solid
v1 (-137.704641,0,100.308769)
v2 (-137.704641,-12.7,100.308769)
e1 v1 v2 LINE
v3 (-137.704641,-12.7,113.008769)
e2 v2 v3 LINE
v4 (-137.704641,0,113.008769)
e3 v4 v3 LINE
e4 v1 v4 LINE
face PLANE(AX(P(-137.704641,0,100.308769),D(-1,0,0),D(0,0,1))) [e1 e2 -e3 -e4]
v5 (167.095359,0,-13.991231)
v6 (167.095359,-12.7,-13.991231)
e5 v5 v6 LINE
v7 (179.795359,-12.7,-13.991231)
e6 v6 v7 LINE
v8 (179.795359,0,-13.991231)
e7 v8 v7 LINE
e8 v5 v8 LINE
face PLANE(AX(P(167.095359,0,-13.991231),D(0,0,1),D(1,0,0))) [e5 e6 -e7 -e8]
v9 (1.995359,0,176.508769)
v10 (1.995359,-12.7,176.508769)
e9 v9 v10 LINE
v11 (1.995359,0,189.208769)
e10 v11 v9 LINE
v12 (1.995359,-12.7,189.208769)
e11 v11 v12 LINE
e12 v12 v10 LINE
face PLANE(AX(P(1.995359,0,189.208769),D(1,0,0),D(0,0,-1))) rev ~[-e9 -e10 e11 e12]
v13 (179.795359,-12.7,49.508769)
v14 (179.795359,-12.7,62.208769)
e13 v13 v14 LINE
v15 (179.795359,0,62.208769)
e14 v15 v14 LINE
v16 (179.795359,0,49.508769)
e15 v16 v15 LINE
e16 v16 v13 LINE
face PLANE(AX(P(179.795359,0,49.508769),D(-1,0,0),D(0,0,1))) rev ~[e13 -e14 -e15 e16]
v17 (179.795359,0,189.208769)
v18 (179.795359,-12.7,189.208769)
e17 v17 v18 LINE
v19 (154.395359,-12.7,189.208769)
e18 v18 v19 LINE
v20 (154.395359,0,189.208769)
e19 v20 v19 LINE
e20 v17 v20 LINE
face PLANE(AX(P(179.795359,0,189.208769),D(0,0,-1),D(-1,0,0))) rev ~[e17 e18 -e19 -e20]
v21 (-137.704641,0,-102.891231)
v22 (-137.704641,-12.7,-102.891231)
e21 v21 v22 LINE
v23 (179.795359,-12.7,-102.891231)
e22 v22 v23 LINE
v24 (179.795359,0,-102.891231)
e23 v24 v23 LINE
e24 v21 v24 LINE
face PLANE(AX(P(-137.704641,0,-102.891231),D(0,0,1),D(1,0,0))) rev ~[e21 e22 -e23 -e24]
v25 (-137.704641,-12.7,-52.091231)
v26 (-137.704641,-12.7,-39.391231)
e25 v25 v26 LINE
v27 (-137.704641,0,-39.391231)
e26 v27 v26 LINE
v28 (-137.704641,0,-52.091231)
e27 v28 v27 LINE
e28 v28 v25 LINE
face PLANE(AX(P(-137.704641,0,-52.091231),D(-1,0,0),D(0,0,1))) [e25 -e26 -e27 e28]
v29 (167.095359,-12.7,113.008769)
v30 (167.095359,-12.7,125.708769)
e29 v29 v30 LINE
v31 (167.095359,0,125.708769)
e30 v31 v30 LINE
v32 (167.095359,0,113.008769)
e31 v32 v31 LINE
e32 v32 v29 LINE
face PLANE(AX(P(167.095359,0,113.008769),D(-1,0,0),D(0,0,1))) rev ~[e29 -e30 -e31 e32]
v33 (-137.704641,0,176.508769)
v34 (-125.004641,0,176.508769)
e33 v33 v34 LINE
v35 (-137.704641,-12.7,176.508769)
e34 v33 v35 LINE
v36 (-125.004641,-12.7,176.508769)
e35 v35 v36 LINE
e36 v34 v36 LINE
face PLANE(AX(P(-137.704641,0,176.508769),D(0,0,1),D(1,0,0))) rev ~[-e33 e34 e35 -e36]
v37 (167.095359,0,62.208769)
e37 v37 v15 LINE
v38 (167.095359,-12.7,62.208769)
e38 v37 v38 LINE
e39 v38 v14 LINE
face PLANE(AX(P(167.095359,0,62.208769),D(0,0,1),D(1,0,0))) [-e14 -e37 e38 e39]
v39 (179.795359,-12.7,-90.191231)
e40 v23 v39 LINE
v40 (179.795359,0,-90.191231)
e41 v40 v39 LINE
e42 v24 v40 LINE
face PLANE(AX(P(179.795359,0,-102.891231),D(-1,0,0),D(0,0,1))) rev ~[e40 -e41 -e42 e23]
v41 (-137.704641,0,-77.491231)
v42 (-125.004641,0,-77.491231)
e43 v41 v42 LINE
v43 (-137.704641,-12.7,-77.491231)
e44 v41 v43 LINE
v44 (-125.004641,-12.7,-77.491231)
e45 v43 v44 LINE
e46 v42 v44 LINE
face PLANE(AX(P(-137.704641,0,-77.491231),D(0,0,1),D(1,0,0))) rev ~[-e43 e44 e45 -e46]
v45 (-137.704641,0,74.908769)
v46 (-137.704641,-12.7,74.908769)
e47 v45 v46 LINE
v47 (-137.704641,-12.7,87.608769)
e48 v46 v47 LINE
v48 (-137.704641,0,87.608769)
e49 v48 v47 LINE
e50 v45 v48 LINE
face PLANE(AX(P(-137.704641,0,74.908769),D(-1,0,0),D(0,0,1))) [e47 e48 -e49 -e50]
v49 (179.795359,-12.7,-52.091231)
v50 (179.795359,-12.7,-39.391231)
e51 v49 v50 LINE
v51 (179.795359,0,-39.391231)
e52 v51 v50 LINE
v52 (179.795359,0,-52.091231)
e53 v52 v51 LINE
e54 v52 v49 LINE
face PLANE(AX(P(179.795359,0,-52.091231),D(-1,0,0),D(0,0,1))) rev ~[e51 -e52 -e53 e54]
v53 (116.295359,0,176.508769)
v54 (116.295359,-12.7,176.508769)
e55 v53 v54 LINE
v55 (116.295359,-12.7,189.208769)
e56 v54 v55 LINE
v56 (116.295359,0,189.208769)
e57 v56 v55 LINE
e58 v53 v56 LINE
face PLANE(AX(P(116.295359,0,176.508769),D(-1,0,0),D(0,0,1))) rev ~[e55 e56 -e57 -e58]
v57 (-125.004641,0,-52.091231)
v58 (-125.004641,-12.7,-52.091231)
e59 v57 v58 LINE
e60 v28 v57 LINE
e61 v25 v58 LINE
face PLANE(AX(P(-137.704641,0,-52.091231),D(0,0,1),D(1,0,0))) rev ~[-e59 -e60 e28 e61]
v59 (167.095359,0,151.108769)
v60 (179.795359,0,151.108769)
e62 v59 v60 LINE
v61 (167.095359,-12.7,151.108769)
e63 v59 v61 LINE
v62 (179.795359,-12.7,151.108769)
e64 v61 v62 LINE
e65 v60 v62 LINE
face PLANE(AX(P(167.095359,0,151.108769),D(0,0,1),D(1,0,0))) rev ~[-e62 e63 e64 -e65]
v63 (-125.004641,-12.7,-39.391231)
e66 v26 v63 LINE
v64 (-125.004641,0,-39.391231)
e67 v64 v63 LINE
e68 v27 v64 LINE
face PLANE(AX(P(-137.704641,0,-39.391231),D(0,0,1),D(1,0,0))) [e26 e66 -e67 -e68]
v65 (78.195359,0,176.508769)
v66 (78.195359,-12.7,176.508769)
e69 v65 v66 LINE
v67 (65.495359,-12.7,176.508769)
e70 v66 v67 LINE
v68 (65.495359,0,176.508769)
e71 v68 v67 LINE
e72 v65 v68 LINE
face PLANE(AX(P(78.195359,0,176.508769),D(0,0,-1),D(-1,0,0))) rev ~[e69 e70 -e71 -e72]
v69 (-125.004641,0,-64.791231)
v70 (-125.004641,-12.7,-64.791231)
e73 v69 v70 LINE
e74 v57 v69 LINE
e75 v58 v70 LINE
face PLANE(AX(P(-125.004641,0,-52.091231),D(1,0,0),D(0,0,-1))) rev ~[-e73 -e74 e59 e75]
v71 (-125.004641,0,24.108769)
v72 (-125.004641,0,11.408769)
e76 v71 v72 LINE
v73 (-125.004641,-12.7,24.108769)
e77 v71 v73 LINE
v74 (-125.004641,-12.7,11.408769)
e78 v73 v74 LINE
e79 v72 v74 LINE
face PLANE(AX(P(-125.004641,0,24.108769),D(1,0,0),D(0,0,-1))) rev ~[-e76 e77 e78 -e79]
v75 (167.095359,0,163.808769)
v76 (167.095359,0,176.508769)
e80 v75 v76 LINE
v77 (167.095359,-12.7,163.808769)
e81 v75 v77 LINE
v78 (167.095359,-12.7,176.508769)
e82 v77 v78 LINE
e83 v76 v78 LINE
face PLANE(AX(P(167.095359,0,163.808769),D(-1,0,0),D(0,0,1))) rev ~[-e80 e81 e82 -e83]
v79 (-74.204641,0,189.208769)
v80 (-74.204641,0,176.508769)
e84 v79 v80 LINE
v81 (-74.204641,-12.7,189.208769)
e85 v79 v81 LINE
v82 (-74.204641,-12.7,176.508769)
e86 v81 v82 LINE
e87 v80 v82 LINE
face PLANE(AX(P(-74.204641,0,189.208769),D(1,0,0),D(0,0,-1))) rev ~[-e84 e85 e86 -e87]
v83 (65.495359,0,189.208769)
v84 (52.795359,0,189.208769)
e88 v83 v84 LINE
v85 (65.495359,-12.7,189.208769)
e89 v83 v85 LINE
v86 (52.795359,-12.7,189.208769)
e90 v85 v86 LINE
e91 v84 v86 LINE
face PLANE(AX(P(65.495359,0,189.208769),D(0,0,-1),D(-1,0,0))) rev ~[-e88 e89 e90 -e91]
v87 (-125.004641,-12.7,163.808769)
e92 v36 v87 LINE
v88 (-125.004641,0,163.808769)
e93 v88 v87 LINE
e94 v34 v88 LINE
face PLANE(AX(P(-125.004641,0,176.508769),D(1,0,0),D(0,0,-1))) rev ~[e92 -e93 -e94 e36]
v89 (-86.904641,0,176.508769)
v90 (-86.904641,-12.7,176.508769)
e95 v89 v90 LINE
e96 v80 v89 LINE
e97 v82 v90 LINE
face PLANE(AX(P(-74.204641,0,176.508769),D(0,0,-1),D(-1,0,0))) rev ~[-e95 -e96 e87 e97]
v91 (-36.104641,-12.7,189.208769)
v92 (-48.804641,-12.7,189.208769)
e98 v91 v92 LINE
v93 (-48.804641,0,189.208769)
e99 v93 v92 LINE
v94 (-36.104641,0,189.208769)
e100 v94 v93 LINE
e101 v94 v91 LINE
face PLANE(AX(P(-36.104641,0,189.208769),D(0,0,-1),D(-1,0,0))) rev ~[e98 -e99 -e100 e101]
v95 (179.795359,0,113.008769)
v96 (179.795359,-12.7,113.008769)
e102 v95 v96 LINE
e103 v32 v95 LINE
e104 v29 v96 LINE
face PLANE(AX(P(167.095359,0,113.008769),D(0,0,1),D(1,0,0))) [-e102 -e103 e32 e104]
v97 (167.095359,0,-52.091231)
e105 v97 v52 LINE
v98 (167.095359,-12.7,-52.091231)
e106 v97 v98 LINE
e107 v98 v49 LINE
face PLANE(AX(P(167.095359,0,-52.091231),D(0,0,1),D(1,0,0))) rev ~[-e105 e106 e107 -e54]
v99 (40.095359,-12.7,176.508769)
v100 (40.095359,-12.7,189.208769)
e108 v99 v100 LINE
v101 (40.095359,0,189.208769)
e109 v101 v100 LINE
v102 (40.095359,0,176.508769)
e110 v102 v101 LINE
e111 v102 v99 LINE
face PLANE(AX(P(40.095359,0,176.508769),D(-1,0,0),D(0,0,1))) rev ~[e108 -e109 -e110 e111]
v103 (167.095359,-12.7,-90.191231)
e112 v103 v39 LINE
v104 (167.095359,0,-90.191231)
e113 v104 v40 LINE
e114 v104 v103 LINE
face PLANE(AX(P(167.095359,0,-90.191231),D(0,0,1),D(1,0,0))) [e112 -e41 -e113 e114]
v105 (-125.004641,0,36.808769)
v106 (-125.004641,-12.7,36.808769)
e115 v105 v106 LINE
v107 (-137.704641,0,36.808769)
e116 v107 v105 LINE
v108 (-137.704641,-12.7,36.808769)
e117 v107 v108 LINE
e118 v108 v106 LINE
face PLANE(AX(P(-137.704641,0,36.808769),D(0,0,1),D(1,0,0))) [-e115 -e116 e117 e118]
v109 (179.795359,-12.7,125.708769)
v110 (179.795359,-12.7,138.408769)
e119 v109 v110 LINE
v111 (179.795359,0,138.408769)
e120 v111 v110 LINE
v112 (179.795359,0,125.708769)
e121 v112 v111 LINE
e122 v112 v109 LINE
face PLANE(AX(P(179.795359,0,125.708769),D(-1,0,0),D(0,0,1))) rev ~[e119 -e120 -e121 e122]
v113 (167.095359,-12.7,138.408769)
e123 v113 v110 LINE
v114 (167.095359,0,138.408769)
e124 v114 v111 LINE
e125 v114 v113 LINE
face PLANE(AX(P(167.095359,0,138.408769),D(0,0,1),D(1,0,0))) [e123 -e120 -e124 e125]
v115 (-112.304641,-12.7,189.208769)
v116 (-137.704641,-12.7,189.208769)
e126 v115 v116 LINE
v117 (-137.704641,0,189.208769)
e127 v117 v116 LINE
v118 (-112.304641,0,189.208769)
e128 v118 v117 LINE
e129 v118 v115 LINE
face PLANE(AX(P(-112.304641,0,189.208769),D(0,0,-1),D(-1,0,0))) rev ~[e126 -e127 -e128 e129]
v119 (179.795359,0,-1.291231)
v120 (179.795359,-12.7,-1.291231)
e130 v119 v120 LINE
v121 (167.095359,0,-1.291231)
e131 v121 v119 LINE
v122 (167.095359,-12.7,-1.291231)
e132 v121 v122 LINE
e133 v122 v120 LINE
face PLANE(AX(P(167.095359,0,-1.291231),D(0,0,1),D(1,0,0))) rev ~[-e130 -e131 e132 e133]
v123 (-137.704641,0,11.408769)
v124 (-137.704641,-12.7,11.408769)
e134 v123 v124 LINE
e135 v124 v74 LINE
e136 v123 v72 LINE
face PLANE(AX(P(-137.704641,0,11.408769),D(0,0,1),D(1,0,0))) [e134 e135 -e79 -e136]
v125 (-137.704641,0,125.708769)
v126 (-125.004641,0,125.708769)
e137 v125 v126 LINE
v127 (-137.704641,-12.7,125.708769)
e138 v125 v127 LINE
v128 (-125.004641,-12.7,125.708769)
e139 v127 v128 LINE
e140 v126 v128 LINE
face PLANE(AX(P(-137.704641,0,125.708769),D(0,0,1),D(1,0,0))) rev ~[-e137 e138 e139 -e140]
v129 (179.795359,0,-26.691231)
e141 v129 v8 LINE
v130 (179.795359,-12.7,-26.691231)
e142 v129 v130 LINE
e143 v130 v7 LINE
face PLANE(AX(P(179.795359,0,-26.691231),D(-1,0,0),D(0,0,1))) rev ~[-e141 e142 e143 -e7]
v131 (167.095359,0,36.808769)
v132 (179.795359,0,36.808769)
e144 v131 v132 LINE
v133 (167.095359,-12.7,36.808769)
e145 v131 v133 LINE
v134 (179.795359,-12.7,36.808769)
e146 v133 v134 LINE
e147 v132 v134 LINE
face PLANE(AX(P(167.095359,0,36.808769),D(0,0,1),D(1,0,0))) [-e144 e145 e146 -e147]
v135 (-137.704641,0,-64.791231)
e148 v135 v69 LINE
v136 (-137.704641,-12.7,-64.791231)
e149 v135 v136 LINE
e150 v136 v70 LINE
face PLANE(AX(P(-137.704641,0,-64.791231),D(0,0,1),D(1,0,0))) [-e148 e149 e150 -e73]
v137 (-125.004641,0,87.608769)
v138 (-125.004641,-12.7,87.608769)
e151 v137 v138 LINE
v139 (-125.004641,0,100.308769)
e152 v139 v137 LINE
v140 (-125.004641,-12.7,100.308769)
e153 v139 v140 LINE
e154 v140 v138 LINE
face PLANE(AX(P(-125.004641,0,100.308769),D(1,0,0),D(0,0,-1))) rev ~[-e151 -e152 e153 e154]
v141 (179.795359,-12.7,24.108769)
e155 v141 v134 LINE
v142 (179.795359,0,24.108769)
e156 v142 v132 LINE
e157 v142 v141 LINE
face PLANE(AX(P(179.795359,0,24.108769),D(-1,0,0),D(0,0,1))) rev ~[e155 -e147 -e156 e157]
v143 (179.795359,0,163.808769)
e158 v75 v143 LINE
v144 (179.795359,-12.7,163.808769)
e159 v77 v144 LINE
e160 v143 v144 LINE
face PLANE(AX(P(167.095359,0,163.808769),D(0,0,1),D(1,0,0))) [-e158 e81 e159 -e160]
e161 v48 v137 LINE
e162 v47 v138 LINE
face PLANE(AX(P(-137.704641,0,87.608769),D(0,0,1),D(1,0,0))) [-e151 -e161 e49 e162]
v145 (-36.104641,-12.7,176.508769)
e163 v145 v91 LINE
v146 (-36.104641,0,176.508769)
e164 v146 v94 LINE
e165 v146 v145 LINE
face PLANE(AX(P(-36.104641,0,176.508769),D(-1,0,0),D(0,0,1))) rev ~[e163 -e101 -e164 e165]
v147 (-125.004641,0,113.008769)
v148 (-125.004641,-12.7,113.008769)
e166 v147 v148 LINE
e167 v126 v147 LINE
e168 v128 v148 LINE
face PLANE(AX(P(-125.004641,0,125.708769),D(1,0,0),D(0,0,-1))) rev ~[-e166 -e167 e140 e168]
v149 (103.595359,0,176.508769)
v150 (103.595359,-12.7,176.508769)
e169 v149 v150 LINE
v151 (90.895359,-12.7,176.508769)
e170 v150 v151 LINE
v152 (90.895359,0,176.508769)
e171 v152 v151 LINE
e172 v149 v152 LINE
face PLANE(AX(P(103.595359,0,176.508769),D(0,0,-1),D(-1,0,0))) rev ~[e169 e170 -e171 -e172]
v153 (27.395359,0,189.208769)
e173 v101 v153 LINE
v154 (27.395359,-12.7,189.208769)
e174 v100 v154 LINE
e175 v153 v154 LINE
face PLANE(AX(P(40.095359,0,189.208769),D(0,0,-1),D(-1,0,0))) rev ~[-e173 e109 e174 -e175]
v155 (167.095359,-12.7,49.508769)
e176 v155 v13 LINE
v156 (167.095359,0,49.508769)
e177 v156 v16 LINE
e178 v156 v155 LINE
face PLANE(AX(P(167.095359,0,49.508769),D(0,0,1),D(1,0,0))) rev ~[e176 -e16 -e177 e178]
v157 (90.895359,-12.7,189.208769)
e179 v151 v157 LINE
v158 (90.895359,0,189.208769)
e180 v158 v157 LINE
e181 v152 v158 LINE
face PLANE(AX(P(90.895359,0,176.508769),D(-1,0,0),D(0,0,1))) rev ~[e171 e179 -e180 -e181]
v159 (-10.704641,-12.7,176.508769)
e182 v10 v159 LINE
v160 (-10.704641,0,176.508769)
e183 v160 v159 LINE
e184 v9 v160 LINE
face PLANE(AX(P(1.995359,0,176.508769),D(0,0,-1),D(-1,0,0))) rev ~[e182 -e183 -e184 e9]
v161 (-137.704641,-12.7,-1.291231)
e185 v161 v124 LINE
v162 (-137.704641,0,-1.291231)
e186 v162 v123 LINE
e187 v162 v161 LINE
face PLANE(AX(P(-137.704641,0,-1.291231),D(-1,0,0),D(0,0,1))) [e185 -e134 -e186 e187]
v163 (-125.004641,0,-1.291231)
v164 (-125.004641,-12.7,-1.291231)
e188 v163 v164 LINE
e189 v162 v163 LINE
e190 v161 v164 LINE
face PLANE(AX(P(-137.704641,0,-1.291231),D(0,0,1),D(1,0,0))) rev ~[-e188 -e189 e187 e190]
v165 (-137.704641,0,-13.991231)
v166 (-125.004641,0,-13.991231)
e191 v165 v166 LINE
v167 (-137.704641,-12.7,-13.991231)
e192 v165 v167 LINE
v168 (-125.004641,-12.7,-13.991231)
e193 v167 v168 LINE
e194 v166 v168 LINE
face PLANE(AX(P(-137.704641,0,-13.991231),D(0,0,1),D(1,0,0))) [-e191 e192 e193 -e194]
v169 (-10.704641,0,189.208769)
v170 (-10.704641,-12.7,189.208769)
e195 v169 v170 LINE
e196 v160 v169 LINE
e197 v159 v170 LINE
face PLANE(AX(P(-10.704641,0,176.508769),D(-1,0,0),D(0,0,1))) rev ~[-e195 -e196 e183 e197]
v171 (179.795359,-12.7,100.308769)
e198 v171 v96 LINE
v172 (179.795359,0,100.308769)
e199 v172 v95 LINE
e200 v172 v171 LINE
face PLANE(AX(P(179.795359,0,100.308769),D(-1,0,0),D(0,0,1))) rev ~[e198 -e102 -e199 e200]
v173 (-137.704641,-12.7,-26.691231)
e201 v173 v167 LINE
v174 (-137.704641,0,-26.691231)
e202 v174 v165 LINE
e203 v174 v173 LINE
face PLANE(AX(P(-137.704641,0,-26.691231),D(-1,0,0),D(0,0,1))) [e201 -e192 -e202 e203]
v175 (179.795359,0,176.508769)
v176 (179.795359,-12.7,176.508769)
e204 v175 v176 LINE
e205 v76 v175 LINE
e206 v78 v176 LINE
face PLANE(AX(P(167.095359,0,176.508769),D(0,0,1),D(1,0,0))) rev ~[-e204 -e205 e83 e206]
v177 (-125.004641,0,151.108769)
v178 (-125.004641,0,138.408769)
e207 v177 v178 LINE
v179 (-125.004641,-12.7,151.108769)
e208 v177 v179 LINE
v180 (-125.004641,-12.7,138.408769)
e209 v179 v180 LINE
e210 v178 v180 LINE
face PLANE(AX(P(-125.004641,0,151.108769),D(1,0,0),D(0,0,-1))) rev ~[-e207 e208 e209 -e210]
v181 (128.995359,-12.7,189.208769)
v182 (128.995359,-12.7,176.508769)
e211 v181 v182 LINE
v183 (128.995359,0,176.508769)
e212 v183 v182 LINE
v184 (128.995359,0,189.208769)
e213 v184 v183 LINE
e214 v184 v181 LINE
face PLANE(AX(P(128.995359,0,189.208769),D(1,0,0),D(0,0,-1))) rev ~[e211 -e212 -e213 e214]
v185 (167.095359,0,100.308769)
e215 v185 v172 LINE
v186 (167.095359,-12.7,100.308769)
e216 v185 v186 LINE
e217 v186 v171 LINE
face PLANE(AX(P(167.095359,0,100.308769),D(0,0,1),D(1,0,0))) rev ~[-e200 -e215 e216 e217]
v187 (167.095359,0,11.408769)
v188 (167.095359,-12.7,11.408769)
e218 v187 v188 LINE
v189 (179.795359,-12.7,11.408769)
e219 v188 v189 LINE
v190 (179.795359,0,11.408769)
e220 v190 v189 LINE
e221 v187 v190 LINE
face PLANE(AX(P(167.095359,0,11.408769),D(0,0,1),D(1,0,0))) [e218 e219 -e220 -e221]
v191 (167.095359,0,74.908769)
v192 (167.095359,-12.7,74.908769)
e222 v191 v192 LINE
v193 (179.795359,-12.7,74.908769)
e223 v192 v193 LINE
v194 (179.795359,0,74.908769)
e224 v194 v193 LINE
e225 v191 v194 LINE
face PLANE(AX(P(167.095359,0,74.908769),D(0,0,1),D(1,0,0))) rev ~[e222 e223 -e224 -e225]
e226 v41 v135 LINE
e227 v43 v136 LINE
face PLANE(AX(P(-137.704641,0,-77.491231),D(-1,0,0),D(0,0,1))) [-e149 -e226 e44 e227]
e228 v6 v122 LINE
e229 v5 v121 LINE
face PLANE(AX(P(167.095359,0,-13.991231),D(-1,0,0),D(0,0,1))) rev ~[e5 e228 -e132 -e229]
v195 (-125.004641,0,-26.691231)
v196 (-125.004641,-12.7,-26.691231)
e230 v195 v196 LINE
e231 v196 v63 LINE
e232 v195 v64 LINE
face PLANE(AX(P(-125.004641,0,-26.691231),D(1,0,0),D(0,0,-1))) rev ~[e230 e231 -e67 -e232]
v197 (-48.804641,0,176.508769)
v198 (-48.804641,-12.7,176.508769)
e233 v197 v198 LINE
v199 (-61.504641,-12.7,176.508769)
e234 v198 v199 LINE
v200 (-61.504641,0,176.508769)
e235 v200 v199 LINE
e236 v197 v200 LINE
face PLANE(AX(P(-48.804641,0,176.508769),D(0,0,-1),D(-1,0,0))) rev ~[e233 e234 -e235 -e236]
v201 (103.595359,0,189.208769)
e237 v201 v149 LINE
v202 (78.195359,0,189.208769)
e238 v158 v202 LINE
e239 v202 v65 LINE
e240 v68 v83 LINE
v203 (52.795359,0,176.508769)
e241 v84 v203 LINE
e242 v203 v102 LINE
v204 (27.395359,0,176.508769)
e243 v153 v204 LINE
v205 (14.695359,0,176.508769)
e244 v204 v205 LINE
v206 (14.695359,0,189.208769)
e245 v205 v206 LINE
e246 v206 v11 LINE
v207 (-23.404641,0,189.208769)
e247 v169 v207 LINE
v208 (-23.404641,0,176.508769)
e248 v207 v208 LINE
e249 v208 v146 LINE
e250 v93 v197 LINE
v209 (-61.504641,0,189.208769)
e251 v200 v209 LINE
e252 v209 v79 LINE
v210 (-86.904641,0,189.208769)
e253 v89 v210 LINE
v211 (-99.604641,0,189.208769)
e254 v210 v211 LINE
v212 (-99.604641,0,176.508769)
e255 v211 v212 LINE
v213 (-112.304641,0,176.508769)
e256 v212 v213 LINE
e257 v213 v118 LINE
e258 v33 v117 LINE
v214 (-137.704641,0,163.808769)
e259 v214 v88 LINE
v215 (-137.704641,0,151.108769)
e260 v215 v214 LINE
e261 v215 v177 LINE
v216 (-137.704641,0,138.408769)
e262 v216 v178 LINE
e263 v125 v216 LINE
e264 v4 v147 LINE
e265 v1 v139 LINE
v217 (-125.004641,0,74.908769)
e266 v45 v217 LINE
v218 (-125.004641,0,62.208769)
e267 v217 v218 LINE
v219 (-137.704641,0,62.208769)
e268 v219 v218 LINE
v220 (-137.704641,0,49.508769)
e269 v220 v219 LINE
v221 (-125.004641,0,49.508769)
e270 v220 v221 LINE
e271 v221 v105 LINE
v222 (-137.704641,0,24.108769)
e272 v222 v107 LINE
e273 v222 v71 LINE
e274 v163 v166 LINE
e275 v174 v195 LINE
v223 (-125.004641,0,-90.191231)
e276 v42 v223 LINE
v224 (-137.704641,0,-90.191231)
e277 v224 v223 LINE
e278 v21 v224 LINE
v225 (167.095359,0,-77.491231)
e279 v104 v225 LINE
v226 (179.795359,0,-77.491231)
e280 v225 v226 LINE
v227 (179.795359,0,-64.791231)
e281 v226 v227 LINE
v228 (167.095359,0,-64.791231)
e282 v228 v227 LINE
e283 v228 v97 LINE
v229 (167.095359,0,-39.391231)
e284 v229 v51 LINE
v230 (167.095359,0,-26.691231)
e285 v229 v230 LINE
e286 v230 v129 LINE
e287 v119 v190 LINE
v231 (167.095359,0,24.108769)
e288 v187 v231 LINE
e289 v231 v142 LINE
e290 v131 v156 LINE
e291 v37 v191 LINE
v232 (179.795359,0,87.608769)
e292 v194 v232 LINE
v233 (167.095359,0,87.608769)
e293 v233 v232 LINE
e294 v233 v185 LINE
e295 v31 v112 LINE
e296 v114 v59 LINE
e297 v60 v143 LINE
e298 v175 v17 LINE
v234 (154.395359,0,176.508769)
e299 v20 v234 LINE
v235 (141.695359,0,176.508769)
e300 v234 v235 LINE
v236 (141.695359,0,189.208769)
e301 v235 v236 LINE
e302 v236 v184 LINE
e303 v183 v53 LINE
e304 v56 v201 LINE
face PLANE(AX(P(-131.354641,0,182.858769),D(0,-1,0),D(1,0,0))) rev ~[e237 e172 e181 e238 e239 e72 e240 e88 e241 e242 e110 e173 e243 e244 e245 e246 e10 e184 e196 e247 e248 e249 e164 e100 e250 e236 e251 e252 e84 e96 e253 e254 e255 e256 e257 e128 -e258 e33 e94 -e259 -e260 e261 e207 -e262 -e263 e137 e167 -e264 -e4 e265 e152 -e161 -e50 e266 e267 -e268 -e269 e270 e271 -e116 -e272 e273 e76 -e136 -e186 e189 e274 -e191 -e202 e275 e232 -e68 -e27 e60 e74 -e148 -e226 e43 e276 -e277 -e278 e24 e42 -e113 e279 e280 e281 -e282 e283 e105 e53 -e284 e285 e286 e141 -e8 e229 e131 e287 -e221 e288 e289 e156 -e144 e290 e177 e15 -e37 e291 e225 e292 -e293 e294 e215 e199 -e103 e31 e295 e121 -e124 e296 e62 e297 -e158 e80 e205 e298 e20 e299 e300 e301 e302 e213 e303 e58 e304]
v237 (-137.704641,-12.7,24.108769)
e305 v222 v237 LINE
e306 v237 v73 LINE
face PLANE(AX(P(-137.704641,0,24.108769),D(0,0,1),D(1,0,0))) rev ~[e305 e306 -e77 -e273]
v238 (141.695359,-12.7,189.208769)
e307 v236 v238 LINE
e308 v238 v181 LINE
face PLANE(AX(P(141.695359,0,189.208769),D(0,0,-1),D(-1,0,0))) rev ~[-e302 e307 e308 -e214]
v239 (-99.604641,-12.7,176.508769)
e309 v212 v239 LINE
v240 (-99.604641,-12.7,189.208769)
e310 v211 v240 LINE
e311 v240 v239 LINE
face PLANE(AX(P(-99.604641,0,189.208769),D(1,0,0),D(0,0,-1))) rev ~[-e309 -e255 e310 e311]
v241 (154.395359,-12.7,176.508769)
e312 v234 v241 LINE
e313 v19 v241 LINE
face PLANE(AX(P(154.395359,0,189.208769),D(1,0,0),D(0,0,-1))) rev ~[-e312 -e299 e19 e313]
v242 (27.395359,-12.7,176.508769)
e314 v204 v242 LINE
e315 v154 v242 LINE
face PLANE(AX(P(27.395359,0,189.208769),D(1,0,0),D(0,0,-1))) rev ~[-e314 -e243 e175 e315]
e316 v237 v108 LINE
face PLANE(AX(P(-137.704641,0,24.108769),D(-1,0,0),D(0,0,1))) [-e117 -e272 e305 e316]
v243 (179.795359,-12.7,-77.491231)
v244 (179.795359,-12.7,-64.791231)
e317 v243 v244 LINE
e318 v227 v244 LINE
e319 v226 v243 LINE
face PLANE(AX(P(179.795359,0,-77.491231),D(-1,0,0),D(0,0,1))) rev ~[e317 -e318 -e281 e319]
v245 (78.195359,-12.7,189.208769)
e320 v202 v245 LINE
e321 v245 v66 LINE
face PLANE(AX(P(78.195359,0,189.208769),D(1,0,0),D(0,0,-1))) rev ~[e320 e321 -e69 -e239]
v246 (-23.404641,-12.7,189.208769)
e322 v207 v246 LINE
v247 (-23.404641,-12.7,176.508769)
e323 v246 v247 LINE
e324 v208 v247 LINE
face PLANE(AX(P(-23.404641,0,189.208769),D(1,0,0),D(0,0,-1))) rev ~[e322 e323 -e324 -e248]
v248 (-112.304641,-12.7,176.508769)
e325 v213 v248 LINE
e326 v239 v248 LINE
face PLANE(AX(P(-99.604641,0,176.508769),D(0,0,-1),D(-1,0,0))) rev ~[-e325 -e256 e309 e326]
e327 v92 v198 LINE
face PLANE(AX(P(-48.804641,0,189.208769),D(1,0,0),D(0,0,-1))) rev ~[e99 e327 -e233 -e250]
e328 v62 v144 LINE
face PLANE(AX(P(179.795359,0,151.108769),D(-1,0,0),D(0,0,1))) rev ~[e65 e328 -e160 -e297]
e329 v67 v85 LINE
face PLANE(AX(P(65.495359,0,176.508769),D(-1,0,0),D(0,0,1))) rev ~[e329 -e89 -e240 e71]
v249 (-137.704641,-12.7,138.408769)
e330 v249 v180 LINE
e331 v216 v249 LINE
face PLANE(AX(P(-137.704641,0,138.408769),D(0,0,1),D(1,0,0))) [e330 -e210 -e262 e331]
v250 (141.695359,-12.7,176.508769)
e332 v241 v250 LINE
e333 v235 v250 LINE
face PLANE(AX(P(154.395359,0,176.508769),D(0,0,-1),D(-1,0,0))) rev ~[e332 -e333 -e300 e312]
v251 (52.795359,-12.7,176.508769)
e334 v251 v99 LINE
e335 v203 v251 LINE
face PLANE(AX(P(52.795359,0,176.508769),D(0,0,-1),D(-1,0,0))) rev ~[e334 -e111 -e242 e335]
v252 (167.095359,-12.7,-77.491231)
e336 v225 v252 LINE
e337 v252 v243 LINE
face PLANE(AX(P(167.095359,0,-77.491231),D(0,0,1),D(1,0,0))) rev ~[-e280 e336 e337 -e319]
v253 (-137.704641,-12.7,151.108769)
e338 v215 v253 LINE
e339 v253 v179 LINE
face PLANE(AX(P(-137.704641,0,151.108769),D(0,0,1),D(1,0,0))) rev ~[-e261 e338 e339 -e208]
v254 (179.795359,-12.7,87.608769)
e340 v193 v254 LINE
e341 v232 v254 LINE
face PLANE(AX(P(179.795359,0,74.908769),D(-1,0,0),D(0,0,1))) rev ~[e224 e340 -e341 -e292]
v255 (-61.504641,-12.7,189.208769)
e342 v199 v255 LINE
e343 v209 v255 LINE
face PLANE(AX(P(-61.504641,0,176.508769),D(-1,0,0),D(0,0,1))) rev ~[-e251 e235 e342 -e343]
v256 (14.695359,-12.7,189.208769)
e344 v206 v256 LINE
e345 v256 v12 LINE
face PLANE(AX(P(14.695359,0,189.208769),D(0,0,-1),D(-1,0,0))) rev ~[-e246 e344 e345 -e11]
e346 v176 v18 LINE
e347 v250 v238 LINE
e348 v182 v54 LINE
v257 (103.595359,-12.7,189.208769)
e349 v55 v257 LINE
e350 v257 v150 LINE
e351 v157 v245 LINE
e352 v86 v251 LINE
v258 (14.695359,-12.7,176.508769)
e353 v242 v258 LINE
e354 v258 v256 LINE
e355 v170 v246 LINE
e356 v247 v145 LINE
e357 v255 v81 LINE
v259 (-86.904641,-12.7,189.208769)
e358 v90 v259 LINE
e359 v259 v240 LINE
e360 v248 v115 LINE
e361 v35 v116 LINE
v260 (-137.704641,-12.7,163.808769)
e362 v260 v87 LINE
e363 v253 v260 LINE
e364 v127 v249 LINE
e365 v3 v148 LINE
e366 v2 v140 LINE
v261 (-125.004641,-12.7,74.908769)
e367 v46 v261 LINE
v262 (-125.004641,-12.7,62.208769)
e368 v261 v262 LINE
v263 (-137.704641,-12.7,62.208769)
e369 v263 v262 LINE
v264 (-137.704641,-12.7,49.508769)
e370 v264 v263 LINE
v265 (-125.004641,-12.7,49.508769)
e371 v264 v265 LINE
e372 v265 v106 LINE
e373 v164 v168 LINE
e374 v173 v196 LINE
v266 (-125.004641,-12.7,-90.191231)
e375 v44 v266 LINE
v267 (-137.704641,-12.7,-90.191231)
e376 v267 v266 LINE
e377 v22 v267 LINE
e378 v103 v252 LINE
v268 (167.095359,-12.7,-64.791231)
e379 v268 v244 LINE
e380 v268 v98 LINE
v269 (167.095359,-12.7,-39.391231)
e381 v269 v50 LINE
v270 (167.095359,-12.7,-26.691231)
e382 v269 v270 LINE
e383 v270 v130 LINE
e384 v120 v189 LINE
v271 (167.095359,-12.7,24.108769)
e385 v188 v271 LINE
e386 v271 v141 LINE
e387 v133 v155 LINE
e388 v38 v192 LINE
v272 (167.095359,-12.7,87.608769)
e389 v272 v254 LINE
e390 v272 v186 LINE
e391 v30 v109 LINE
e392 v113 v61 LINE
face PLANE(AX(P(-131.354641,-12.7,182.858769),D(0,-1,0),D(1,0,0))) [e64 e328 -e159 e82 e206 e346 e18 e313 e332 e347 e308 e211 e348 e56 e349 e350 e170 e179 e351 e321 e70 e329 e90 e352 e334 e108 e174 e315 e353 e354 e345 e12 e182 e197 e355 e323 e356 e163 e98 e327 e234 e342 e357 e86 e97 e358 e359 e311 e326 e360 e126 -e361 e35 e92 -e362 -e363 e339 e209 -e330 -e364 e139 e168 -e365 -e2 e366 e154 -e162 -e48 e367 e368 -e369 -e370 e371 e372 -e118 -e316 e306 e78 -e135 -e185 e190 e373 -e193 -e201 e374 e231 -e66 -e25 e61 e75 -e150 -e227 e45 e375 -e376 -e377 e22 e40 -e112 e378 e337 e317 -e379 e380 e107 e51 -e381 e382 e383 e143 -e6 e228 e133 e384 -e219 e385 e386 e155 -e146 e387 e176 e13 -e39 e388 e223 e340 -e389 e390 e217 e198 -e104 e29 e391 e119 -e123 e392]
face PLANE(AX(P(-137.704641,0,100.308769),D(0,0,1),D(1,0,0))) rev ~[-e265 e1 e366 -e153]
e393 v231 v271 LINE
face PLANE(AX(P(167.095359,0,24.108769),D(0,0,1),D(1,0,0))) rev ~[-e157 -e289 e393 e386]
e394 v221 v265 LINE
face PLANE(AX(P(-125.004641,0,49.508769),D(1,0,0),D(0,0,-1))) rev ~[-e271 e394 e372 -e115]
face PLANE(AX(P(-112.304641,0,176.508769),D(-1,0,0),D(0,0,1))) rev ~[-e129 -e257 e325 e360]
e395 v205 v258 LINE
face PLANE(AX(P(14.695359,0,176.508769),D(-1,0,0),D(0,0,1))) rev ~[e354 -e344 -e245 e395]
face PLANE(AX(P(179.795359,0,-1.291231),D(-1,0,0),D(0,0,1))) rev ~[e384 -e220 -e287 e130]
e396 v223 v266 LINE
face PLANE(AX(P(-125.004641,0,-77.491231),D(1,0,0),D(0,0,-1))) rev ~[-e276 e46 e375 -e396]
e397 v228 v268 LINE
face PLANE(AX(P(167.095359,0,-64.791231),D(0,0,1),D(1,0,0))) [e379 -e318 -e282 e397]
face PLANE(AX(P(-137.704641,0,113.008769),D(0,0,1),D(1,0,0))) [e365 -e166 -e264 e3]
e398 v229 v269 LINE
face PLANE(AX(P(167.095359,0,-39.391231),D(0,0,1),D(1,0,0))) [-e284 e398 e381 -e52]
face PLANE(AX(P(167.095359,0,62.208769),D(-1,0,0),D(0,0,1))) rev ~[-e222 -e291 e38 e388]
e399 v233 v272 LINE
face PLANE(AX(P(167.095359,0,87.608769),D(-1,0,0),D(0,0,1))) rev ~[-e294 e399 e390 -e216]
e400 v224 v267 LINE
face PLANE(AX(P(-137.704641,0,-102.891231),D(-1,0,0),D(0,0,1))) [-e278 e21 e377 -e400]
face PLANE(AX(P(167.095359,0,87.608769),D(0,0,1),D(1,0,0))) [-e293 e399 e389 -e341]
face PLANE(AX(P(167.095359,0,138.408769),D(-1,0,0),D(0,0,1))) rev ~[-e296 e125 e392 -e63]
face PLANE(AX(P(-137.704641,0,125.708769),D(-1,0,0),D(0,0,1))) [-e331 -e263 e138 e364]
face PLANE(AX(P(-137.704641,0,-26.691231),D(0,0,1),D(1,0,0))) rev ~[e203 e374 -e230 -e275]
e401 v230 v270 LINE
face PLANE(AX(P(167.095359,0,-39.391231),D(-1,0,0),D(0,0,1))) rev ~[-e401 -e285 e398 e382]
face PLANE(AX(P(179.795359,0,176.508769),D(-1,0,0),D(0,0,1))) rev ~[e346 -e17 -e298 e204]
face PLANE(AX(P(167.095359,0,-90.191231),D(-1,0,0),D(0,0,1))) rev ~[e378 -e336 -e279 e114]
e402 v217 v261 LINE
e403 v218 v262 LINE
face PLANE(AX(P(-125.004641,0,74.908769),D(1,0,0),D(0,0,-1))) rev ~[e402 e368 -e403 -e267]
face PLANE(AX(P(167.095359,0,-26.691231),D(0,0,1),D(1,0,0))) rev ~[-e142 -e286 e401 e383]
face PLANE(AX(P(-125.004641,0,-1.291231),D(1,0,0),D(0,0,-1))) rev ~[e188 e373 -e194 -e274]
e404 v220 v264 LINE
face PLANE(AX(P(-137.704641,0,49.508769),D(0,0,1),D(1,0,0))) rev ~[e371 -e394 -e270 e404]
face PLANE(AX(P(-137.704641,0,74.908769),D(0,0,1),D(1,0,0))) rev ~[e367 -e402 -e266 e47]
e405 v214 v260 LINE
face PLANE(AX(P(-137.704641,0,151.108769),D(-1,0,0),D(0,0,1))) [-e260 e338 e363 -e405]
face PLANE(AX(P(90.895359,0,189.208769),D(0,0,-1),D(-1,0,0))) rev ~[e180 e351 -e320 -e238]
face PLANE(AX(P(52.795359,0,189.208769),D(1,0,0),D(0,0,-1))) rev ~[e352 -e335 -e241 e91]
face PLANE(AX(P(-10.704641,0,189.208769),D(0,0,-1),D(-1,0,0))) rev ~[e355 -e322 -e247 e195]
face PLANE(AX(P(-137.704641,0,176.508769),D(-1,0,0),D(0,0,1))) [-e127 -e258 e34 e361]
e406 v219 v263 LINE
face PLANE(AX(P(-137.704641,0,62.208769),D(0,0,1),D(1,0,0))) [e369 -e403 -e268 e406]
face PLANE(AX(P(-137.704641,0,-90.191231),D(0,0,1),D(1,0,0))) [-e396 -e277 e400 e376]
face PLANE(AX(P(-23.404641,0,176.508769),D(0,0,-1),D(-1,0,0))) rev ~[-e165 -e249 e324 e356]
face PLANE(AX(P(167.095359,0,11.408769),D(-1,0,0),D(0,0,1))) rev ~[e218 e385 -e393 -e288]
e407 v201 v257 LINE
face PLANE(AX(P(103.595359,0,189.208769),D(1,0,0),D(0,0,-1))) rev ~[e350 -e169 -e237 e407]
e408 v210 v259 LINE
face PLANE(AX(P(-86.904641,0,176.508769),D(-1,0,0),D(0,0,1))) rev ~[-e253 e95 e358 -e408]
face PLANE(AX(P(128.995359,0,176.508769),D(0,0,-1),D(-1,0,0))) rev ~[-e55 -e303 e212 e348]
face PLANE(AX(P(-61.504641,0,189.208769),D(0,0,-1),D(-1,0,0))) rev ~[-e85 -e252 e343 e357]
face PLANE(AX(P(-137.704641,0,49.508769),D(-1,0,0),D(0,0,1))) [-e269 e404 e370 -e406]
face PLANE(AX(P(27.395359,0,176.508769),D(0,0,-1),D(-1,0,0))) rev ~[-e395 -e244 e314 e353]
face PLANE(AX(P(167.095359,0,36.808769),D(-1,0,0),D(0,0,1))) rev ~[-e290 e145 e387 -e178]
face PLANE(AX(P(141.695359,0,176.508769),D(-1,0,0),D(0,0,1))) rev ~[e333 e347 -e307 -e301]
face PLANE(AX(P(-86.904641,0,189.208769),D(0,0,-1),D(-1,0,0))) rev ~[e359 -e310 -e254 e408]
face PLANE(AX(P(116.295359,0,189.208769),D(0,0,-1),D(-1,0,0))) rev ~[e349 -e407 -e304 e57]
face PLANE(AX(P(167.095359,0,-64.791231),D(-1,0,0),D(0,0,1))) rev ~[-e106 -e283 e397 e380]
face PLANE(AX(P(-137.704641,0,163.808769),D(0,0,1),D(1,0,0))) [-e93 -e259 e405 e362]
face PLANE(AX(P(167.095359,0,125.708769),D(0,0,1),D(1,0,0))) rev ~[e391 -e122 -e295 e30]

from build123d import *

# Parameters (mm, degrees)
F0_W     = 12.7
F0_H     = 12.7
F1_DEPTH = 12.7


with BuildPart() as f1:
    # F0 (on Front) → F1 (new body)
    with BuildSketch(Plane.XZ):
        with Locations((-131.354641, 182.858769)):
            Rectangle(F0_W, F0_H)
        with Locations((-131.354641, 157.458769)):
            Rectangle(F0_W, F0_H)
        Polygon((-112.304641, 189.208769), (-125.004641, 189.208769), (-125.004641, 176.508769), (-125.004641, 163.808769), (-125.004641, 151.108769), (-125.004641, 138.408769), (-125.004641, 125.708769), (-125.004641, 113.008769), (-125.004641, 100.308769), (-125.004641, 87.608769), (-125.004641, 74.908769), (-125.004641, 62.208769), (-125.004641, 49.508769), (-125.004641, 36.808769), (-125.004641, 24.108769), (-125.004641, 11.408769), (-125.004641, -1.291231), (-125.004641, -13.991231), (-125.004641, -26.691231), (-125.004641, -39.391231), (-125.004641, -52.091231), (-125.004641, -64.791231), (-125.004641, -77.491231), (-125.004641, -90.191231), (-125.004641, -102.891231), (167.095359, -102.891231), (167.095359, -90.191231), (167.095359, -77.491231), (167.095359, -64.791231), (167.095359, -52.091231), (167.095359, -39.391231), (167.095359, -26.691231), (167.095359, -13.991231), (167.095359, -1.291231), (167.095359, 11.408769), (167.095359, 24.108769), (167.095359, 36.808769), (167.095359, 49.508769), (167.095359, 62.208769), (167.095359, 74.908769), (167.095359, 87.608769), (167.095359, 100.308769), (167.095359, 113.008769), (167.095359, 125.708769), (167.095359, 138.408769), (167.095359, 151.108769), (167.095359, 163.808769), (167.095359, 176.508769), (167.095359, 189.208769), (154.395359, 189.208769), (154.395359, 176.508769), (141.695359, 176.508769), (141.695359, 189.208769), (128.995359, 189.208769), (128.995359, 176.508769), (116.295359, 176.508769), (116.295359, 189.208769), (103.595359, 189.208769), (103.595359, 176.508769), (90.895359, 176.508769), (90.895359, 189.208769), (78.195359, 189.208769), (78.195359, 176.508769), (65.495359, 176.508769), (65.495359, 189.208769), (52.795359, 189.208769), (52.795359, 176.508769), (40.095359, 176.508769), (40.095359, 189.208769), (27.395359, 189.208769), (27.395359, 176.508769), (14.695359, 176.508769), (14.695359, 189.208769), (1.995359, 189.208769), (1.995359, 176.508769), (-10.704641, 176.508769), (-10.704641, 189.208769), (-23.404641, 189.208769), (-23.404641, 176.508769), (-36.104641, 176.508769), (-36.104641, 189.208769), (-48.804641, 189.208769), (-48.804641, 176.508769), (-61.504641, 176.508769), (-61.504641, 189.208769), (-74.204641, 189.208769), (-74.204641, 176.508769), (-86.904641, 176.508769), (-86.904641, 189.208769), (-99.604641, 189.208769), (-99.604641, 176.508769), (-112.304641, 176.508769), align=None)
        with Locations((173.445359, 182.858769)):
            Rectangle(F0_W, F0_H)
        with Locations((173.445359, 157.458769)):
            Rectangle(F0_W, F0_H)
        with Locations((173.445359, 132.058769)):
            Rectangle(F0_W, F0_H)
        with Locations((173.445359, 106.658769)):
            Rectangle(F0_W, F0_H)
        with Locations((173.445359, 81.258769)):
            Rectangle(F0_W, F0_H)
        with Locations((173.445359, 55.858769)):
            Rectangle(F0_W, F0_H)
        with Locations((173.445359, 30.458769)):
            Rectangle(F0_W, F0_H)
        with Locations((173.445359, 5.058769)):
            Rectangle(F0_W, F0_H)
        with Locations((173.445359, -20.341231)):
            Rectangle(F0_W, F0_H)
        with Locations((173.445359, -45.741231)):
            Rectangle(F0_W, F0_H)
        with Locations((173.445359, -71.141231)):
            Rectangle(F0_W, F0_H)
        with Locations((173.445359, -96.541231)):
            Rectangle(F0_W, F0_H)
        with Locations((-131.354641, -96.541231)):
            Rectangle(F0_W, F0_H)
        with Locations((-131.354641, -71.141231)):
            Rectangle(F0_W, F0_H)
        with Locations((-131.354641, -45.741231)):
            Rectangle(F0_W, F0_H)
        with Locations((-131.354641, -20.341231)):
            Rectangle(F0_W, F0_H)
        with Locations((-131.354641, 5.058769)):
            Rectangle(F0_W, F0_H)
        with Locations((-131.354641, 30.458769)):
            Rectangle(F0_W, F0_H)
        with Locations((-131.354641, 55.858769)):
            Rectangle(F0_W, F0_H)
        with Locations((-131.354641, 81.258769)):
            Rectangle(F0_W, F0_H)
        with Locations((-131.354641, 106.658769)):
            Rectangle(F0_W, F0_H)
        with Locations((-131.354641, 132.058769)):
            Rectangle(F0_W, F0_H)
    extrude(amount=F1_DEPTH)


with BuildPart() as f2_1:
    # F2: copy of F1
    add(f1.part)


solid = f2_1.part
